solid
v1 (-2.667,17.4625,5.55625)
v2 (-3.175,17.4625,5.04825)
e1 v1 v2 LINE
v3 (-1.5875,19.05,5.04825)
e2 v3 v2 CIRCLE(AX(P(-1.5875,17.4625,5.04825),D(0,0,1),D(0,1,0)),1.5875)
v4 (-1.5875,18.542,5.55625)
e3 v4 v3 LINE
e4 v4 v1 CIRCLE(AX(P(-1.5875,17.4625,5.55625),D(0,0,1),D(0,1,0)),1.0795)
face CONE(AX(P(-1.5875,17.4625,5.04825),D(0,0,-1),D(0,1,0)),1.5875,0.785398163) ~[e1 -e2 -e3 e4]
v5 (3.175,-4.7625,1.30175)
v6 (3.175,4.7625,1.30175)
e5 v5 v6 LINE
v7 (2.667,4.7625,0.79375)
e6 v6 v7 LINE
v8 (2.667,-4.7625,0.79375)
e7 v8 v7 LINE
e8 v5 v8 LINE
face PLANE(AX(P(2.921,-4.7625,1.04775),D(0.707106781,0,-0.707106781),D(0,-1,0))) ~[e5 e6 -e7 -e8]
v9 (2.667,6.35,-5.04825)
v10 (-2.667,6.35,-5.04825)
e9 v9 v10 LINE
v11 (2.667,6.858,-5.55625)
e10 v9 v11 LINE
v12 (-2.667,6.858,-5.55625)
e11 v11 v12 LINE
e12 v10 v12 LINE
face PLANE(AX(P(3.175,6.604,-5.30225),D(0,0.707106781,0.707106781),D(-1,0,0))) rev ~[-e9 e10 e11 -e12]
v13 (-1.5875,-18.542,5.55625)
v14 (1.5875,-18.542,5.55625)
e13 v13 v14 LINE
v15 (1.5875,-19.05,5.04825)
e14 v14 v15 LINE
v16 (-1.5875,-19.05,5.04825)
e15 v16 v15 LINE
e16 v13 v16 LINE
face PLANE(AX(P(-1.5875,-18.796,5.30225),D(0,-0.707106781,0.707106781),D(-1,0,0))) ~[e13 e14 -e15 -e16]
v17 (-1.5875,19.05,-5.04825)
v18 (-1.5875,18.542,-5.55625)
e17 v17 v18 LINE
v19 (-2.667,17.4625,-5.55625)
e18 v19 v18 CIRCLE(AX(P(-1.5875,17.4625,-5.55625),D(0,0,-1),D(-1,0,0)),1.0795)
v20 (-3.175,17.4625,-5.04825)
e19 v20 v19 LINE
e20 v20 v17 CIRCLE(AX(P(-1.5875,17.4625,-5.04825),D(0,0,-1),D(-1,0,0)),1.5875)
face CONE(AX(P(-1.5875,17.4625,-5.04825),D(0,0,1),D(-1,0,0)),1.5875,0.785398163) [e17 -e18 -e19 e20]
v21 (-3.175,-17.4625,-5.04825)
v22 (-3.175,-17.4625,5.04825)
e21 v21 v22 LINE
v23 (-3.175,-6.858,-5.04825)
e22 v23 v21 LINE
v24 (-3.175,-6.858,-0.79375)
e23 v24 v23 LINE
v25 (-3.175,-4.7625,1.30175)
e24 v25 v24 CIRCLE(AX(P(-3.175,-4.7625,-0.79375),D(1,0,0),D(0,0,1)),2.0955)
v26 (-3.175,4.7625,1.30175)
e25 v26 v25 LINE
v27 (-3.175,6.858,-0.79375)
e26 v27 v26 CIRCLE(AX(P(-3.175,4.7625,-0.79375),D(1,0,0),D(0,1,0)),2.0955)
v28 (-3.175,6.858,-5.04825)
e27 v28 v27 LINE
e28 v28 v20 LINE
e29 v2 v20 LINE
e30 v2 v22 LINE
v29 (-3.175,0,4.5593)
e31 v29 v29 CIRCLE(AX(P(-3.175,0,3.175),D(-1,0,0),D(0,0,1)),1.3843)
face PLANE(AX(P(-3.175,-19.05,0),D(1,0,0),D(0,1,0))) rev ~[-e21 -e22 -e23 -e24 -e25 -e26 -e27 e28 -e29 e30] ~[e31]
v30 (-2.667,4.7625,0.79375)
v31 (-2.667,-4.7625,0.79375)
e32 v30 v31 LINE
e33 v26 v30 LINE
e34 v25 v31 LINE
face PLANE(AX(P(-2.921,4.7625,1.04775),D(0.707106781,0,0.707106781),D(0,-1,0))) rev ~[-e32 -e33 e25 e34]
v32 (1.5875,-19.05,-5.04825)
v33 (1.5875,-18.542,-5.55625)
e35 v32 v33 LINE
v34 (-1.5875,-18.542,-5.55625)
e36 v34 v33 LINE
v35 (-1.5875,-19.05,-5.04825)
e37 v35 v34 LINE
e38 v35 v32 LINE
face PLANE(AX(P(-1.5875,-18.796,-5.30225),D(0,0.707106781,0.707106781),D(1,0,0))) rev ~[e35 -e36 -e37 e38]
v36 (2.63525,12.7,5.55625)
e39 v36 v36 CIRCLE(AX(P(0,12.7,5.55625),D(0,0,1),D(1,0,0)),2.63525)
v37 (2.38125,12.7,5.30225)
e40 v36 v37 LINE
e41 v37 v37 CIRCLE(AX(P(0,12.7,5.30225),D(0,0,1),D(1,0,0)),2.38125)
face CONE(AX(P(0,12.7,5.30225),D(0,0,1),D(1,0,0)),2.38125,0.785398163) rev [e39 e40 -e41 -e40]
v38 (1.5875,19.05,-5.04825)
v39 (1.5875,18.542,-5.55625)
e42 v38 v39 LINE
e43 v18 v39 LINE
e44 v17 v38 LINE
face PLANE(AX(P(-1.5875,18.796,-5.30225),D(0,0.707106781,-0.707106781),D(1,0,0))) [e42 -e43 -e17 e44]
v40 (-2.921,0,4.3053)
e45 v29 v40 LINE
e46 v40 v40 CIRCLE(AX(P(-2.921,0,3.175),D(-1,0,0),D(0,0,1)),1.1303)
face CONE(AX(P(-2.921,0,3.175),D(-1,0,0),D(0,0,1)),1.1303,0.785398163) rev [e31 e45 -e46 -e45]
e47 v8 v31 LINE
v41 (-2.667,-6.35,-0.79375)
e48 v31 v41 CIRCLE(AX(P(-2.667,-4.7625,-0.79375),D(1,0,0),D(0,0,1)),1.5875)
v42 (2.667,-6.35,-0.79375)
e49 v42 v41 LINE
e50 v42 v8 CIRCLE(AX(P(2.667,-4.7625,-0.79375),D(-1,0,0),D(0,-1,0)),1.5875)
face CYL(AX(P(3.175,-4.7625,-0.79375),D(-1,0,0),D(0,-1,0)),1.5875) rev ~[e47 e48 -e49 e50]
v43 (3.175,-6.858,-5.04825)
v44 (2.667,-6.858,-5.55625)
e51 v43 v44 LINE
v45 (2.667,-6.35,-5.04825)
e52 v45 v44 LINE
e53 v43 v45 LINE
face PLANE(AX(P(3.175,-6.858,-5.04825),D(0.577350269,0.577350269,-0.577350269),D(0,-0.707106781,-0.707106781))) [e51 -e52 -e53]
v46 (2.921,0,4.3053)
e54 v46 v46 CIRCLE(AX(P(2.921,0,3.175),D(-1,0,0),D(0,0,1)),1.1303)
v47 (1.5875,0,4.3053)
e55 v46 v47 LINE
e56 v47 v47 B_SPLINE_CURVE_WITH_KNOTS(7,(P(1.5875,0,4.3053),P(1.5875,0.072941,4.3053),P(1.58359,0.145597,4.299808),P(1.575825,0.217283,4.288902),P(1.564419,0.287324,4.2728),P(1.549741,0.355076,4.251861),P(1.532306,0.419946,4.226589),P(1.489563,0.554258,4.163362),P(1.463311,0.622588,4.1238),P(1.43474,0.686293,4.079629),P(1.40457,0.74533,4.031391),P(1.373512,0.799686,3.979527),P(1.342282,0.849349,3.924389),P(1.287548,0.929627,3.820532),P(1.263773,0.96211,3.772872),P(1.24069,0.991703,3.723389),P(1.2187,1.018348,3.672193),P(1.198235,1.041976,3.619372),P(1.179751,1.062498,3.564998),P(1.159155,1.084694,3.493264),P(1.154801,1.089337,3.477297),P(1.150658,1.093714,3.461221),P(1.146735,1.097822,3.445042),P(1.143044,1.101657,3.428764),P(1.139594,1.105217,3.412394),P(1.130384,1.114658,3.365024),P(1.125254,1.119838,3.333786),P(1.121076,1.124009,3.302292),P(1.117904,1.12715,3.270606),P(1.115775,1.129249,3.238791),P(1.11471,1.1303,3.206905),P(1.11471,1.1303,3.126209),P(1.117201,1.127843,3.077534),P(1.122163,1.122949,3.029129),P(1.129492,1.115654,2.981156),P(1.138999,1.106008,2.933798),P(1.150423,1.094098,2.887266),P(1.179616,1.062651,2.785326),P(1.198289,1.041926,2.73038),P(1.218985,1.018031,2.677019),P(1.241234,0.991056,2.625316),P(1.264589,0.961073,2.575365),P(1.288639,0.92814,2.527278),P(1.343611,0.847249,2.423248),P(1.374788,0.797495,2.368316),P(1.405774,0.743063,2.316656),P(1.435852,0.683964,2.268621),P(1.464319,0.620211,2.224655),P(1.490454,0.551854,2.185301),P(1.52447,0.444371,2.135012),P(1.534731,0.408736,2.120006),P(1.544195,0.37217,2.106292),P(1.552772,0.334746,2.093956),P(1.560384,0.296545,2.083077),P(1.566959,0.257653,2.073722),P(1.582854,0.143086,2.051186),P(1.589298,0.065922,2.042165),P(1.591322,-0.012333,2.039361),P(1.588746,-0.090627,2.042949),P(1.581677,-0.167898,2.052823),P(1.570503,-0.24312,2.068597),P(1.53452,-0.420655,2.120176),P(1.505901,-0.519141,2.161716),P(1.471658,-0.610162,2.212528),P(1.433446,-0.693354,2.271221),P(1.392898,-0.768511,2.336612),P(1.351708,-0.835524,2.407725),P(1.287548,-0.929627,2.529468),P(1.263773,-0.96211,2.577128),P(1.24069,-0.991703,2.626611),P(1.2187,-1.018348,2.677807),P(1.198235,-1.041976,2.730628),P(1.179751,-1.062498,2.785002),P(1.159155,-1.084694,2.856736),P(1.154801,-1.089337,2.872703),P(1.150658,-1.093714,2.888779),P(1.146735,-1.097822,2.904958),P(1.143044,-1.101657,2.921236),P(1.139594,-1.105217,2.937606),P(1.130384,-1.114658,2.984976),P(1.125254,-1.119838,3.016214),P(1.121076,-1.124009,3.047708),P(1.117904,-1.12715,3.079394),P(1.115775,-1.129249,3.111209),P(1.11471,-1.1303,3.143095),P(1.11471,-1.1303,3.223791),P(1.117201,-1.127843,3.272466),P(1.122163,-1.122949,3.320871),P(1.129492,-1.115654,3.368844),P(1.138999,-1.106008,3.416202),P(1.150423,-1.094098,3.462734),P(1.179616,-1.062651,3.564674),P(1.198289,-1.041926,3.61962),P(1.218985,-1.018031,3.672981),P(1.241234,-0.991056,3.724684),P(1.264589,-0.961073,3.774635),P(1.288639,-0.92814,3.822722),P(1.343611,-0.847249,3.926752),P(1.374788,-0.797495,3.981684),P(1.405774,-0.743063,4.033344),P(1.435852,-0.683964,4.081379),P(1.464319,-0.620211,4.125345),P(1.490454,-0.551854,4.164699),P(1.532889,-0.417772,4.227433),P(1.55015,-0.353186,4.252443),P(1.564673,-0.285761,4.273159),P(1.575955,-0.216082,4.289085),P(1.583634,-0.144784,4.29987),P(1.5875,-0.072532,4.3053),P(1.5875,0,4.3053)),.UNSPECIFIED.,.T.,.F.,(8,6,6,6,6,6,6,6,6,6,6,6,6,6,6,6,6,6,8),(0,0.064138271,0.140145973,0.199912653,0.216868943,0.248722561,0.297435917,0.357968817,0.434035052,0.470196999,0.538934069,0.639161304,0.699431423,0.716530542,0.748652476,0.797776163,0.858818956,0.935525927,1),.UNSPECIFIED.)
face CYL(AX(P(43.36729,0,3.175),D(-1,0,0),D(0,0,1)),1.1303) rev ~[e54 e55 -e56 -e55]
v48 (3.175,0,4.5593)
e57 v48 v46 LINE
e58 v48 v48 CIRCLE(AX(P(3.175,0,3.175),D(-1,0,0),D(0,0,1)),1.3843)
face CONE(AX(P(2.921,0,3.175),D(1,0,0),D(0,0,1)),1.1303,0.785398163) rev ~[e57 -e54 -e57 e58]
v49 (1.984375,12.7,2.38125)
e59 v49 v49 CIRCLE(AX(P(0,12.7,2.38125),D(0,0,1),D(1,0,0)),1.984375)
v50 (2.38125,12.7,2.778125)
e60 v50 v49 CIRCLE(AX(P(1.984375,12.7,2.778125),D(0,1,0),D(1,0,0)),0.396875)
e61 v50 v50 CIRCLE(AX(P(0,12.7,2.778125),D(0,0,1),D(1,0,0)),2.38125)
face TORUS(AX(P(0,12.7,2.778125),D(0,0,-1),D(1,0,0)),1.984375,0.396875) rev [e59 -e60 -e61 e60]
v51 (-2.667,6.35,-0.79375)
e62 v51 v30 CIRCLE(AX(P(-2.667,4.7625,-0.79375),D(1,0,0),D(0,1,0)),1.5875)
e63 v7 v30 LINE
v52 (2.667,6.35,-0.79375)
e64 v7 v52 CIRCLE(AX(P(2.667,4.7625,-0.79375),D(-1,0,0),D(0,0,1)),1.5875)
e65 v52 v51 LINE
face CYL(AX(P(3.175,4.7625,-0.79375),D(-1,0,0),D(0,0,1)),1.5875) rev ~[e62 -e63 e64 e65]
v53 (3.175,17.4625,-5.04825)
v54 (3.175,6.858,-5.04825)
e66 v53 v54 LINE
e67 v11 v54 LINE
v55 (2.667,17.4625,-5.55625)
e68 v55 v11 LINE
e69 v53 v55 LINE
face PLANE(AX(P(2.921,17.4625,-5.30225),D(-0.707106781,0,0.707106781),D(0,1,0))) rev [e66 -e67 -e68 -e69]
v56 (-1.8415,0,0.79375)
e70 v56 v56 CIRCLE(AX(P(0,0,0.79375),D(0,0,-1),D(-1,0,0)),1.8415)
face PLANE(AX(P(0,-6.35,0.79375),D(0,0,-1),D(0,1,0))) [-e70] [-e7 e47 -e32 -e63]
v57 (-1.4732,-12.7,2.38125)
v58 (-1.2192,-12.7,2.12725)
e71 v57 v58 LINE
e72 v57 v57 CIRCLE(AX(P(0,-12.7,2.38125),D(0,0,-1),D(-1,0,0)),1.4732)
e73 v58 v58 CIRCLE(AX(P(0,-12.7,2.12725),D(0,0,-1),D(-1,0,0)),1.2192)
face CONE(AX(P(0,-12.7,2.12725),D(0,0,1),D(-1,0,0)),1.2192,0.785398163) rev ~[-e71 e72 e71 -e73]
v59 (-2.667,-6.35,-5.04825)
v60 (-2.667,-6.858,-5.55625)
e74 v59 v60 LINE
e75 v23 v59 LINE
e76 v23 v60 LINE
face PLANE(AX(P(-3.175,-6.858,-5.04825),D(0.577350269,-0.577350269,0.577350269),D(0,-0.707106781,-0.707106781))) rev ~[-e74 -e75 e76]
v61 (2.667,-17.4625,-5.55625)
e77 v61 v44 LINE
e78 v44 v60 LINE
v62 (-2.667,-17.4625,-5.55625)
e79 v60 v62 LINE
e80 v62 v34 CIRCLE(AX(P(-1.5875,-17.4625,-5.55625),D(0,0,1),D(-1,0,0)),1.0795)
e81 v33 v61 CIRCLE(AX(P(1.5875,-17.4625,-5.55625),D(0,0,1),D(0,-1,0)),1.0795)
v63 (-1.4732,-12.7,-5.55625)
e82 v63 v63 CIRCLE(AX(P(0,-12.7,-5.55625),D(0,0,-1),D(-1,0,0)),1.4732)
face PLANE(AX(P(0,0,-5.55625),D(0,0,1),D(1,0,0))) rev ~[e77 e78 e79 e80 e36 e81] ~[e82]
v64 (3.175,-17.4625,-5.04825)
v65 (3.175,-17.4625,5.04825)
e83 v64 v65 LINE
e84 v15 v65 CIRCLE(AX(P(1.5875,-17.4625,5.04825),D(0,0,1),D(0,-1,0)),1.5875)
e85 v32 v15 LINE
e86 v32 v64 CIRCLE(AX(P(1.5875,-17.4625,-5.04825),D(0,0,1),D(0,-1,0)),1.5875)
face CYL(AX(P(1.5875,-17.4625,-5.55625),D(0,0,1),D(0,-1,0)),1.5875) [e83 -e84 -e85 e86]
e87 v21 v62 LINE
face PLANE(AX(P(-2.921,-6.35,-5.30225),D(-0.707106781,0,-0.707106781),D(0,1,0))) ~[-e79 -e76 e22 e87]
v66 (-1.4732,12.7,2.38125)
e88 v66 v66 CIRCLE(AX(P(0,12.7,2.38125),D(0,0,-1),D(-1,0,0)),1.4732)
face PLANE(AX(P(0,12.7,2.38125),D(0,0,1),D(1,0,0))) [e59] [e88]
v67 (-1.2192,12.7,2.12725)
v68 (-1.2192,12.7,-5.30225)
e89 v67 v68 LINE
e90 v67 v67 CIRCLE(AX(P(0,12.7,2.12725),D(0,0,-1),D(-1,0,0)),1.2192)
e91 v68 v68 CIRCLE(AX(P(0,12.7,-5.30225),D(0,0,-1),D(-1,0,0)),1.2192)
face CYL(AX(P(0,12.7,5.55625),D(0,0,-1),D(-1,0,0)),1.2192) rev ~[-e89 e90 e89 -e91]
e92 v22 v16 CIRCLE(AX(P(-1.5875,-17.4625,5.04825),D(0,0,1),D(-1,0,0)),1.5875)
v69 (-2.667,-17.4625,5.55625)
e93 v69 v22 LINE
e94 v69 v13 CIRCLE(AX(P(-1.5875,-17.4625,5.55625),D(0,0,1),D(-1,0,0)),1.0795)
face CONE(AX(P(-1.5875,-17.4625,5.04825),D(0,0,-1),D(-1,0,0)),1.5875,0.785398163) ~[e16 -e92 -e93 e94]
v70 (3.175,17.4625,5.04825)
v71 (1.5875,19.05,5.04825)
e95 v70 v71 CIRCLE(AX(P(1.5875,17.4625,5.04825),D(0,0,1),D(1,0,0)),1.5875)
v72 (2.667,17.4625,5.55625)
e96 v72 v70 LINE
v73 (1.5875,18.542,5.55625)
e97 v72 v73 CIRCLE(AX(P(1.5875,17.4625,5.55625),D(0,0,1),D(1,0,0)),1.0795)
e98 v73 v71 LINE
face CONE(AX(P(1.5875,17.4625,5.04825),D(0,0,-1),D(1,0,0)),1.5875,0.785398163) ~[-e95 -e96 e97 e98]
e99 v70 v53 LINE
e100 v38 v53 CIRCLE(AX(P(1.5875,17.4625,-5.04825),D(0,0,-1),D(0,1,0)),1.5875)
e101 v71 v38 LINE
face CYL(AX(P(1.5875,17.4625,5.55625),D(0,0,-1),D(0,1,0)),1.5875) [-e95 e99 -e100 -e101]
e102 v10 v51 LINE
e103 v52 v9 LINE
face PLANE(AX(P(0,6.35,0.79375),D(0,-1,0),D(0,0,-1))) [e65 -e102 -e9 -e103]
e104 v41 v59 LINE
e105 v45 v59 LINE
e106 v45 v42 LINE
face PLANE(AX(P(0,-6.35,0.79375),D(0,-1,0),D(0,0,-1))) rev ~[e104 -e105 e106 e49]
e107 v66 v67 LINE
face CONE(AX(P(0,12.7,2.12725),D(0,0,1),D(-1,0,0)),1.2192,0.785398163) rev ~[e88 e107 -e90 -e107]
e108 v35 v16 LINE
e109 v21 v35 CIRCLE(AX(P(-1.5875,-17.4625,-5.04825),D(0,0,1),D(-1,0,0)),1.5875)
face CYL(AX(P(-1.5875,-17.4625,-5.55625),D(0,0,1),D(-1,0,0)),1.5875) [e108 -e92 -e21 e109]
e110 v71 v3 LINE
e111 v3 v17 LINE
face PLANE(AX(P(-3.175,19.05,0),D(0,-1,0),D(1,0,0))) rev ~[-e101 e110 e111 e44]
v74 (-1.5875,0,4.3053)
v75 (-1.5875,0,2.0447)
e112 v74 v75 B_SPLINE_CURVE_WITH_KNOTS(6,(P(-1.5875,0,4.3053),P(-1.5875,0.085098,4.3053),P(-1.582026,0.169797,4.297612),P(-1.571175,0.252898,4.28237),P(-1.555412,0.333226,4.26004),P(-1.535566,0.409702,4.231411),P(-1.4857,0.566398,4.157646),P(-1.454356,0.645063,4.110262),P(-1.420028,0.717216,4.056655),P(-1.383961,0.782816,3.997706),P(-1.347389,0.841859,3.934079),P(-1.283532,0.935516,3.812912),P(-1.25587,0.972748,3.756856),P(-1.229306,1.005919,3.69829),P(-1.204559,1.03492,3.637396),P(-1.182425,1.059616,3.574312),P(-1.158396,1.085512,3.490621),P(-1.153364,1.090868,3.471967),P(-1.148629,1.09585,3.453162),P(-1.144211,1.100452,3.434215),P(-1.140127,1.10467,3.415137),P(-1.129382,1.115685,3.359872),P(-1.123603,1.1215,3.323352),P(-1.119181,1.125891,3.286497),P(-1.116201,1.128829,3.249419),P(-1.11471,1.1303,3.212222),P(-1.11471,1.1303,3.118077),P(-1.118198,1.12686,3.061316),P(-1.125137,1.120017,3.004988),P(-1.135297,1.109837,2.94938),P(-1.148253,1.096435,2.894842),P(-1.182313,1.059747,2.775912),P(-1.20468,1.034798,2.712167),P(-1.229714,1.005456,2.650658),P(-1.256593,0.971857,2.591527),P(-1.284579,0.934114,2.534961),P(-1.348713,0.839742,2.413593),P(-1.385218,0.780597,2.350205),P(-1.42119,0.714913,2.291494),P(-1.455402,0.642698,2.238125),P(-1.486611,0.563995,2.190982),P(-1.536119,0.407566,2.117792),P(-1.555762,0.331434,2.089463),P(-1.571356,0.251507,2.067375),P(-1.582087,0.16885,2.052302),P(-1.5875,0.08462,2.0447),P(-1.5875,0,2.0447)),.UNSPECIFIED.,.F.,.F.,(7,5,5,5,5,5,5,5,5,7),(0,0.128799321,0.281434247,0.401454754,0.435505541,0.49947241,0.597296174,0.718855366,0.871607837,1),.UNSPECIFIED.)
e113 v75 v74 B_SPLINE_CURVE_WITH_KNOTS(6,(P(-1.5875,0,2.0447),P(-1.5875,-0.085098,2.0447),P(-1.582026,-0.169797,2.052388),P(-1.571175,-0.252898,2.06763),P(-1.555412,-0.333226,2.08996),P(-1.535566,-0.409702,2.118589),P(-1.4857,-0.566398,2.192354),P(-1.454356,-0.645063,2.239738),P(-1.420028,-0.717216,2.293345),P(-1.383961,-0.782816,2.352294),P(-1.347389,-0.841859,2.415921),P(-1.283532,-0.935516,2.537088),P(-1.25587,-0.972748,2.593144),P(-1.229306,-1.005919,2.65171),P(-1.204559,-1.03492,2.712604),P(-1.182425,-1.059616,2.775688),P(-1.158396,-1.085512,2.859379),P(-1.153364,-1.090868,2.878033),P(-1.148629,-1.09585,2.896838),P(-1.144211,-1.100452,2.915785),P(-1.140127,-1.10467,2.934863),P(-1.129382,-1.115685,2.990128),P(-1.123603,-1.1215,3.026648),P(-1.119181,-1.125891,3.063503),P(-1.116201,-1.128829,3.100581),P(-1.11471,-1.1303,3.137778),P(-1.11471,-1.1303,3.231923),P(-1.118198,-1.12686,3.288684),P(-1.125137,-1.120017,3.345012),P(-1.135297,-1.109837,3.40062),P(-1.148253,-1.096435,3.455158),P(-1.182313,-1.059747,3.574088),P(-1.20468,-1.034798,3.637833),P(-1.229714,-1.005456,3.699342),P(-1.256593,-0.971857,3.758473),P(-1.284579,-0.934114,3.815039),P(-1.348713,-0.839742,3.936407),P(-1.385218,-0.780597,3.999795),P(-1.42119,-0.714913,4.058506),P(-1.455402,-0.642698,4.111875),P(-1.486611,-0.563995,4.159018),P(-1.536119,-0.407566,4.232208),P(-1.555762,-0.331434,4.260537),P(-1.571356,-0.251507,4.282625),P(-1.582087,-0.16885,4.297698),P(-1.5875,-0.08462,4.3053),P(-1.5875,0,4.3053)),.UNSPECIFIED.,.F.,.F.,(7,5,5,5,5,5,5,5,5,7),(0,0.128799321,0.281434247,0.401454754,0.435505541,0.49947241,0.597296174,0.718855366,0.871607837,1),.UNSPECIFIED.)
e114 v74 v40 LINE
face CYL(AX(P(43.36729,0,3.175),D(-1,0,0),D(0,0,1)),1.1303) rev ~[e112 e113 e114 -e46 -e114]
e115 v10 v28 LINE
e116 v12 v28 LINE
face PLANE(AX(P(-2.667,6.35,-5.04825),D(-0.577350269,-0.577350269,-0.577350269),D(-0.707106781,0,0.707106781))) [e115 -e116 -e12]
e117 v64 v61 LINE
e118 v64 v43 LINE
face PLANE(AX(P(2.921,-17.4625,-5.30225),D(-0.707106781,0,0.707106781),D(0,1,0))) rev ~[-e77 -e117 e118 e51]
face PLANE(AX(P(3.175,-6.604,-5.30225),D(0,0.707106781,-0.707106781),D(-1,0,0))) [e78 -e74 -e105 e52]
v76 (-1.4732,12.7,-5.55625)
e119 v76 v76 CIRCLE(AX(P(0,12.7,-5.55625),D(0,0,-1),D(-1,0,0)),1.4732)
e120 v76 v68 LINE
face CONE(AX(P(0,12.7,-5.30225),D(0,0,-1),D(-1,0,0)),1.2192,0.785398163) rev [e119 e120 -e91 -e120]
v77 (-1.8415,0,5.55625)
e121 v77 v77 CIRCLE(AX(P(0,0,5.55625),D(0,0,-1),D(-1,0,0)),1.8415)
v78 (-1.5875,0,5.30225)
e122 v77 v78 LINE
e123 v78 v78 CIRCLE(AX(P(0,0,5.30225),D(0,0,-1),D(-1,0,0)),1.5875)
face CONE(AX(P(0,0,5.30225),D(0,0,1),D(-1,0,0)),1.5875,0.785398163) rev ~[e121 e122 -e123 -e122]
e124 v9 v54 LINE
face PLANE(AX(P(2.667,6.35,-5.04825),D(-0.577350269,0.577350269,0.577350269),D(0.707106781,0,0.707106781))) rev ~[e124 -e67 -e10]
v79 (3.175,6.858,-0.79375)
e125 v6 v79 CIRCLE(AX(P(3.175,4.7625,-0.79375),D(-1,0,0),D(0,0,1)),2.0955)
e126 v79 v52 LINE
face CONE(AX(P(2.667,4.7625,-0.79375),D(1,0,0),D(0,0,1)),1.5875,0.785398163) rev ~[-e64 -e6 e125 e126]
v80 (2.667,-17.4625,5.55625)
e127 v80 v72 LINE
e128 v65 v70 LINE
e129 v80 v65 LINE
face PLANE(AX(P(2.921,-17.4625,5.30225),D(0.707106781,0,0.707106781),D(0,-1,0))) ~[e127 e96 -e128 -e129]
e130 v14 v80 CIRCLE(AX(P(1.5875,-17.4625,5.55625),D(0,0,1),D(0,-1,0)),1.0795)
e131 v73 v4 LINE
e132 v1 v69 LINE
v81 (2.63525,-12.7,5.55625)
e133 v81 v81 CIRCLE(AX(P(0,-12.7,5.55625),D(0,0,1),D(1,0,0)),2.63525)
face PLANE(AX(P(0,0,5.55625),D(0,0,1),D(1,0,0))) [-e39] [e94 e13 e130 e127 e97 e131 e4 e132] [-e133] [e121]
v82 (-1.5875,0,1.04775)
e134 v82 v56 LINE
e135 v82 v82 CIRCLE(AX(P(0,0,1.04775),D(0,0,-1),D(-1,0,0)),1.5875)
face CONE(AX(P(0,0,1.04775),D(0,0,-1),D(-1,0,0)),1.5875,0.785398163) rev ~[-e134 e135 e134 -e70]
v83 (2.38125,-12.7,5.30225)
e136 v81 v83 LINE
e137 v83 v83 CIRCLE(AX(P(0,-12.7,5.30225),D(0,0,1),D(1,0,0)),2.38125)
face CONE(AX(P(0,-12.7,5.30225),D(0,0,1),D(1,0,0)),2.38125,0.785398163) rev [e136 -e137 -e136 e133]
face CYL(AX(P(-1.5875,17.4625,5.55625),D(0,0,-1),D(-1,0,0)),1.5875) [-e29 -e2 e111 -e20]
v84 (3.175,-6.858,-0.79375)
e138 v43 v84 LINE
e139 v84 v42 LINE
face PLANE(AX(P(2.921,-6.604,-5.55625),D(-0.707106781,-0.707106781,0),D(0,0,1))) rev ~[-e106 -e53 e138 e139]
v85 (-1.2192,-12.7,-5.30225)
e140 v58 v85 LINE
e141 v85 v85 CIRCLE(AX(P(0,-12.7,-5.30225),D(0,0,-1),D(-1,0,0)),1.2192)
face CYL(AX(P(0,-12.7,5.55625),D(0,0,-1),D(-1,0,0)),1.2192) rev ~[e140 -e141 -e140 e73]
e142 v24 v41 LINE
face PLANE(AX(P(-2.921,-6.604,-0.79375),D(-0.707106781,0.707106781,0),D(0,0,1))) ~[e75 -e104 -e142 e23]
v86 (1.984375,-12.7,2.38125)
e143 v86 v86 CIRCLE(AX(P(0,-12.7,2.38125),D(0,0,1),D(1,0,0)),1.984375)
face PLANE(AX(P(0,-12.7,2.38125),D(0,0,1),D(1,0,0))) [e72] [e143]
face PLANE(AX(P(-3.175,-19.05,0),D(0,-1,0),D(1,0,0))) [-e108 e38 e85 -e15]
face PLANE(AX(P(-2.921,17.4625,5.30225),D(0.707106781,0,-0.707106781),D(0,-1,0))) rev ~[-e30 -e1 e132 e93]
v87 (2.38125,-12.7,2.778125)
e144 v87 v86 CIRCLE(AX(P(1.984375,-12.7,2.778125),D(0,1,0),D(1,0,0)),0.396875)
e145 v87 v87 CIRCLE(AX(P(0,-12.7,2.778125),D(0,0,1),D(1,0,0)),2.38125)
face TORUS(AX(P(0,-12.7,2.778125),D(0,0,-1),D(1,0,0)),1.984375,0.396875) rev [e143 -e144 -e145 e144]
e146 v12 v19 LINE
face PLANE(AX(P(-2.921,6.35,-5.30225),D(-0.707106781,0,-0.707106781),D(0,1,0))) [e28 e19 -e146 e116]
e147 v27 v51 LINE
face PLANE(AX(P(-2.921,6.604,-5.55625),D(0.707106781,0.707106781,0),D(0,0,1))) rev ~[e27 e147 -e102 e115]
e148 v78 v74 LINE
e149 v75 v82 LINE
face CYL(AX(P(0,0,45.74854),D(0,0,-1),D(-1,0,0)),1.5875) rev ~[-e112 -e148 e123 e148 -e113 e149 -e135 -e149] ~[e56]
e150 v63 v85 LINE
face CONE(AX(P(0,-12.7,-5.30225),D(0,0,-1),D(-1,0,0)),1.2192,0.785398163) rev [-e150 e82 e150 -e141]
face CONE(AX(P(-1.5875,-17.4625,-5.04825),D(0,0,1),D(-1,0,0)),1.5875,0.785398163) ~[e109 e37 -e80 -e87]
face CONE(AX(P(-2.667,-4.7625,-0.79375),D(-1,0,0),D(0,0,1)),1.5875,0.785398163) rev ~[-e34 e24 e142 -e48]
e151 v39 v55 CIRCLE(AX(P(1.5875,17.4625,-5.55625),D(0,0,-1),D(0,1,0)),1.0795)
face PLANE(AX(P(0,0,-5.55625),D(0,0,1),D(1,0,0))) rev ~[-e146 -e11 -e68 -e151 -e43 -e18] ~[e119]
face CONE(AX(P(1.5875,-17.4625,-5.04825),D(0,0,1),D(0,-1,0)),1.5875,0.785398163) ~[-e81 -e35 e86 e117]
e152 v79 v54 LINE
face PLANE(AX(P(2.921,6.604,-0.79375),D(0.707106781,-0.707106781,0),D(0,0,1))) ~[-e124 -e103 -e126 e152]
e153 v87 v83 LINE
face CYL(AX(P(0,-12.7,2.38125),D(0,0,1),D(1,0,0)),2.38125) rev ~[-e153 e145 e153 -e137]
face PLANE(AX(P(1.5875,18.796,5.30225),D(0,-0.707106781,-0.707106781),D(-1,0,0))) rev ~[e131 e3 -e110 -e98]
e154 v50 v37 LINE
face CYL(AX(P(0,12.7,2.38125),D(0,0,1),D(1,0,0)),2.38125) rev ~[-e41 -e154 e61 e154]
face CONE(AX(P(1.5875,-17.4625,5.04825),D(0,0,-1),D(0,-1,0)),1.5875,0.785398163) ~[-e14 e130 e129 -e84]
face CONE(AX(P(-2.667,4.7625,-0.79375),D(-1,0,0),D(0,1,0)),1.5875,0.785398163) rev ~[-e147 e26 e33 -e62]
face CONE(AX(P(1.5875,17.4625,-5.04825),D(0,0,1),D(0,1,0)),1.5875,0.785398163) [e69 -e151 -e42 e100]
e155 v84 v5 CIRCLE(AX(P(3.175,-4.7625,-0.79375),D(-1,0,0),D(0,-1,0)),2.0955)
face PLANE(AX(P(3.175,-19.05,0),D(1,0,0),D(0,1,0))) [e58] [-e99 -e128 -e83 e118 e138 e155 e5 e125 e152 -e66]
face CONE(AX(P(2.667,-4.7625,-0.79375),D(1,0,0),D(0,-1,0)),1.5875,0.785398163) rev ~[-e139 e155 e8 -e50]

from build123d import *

# Parameters (mm, degrees)
SKETCH1_W                                           = 6.35
SKETCH1_H                                           = 38.1
BOSS_EXTRUDE1_DEPTH                                 = 5.55625
SKETCH8_W                                           = 6.35
SKETCH8_H                                           = 12.7
CUT_EXTRUDE1_DEPTH                                  = 4.175
CUT_EXTRUDE1_DEPTH_BACK                             = 4.175
F_1_8_0_125_DIAMETER_HOLE1_D                        = 3.175
CBORE_FOR_2_BINDING_HEAD_MACHINE_SCREW2_D           = 2.4384
CBORE_FOR_2_BINDING_HEAD_MACHINE_SCREW2_CBORE_D     = 4.7625
CBORE_FOR_2_BINDING_HEAD_MACHINE_SCREW2_CBORE_DEPTH = 3.175
F_4_40_TAPPED_HOLE1_D                               = 2.2606
FILLET1_R                                           = 1.5875
FILLET2_R                                           = 0.396875
CHAMFER1_SIZE                                       = 0.508
CHAMFER2_SIZE                                       = 0.254


with BuildPart() as part:
    # Sketch1 → Boss-Extrude1 (new body, symmetric)
    with BuildSketch(Plane.XY):
        Rectangle(SKETCH1_W, SKETCH1_H)
    extrude(amount=BOSS_EXTRUDE1_DEPTH, both=True)

    # Sketch8 → Cut-Extrude1 (cut, two sides)
    with BuildSketch(Plane(origin=(0, 0, 0), x_dir=(0, 0, -1), z_dir=(1, 0, 0))) as cut_extrude1_sk:
        with Locations((2.38125, 0)):
            Rectangle(SKETCH8_W, SKETCH8_H)
    extrude(amount=CUT_EXTRUDE1_DEPTH, mode=Mode.SUBTRACT)
    extrude(cut_extrude1_sk.sketch, amount=-CUT_EXTRUDE1_DEPTH_BACK, mode=Mode.SUBTRACT)

    # 1/8 (0.125) Diameter Hole1 (through all)
    with Locations(Plane.XY.offset(5.55625)):
        with Locations((0, 0)):
            Hole(F_1_8_0_125_DIAMETER_HOLE1_D / 2)

    # CBORE for #2 Binding Head Machine Screw2 (through all)
    with Locations(Plane.XY.offset(5.55625)):
        with Locations((0, 12.7), (0, -12.7)):
            CounterBoreHole(CBORE_FOR_2_BINDING_HEAD_MACHINE_SCREW2_D / 2, CBORE_FOR_2_BINDING_HEAD_MACHINE_SCREW2_CBORE_D / 2, CBORE_FOR_2_BINDING_HEAD_MACHINE_SCREW2_CBORE_DEPTH)

    # #4-40 Tapped Hole1 (through all)
    with Locations(Plane(origin=(3.175, 0, 0), x_dir=(0, 0, -1), z_dir=(1, 0, 0))):
        with Locations((-3.175, 0)):
            Hole(F_4_40_TAPPED_HOLE1_D / 2)

    # Fillet1
    fillet1_edges = [part.edges().sort_by_distance(p)[0] for p in [
        (0, -6.35, 0.79375),
        (0, 6.35, 0.79375),
        (-3.175, -19.05, 0),
        (3.175, -19.05, 0),
        (3.175, 19.05, 0),
        (-3.175, 19.05, 0),
    ]]
    fillet(fillet1_edges, radius=FILLET1_R)

    # Fillet2
    fillet2_edges = [part.edges().sort_by_distance(p)[0] for p in [
        (-2.38125, -12.7, 2.38125),
        (-2.38125, 12.7, 2.38125),
    ]]
    fillet(fillet2_edges, radius=FILLET2_R)

    # Chamfer1
    chamfer1_edges = [part.edges().sort_by_distance(p)[0] for p in [
        (-3.175, 11.90625, -5.55625),
        (3.175, 11.90625, -5.55625),
        (0, 6.35, -5.55625),
        (0, -6.35, -5.55625),
        (-3.175, -6.35, -3.175),
        (3.175, -6.35, -3.175),
        (-3.175, 0, 0.79375),
        (3.175, 0, 0.79375),
        (-3.175, 6.35, -3.175),
        (3.175, 6.35, -3.175),
        (0, -19.05, -5.55625),
        (0, -19.05, 5.55625),
        (3.175, -11.90625, -5.55625),
        (-3.175, -11.90625, -5.55625),
        (2.710032015, -18.585032015, -5.55625),
        (-2.710032015, -18.585032015, -5.55625),
        (-3.175, 0, 5.55625),
        (3.175, 0, 5.55625),
        (0, 19.05, 5.55625),
        (2.710032015, 18.585032015, 5.55625),
        (-2.710032015, 18.585032015, 5.55625),
        (2.710032015, -18.585032015, 5.55625),
        (-2.710032015, -18.585032015, 5.55625),
        (0, 19.05, -5.55625),
        (2.710032015, 18.585032015, -5.55625),
        (-2.710032015, 18.585032015, -5.55625),
        (3.175, -5.885032015, 0.328782015),
        (-3.175, -5.885032015, 0.328782015),
        (3.175, 5.885032015, 0.328782015),
        (-3.175, 5.885032015, 0.328782015),
    ]]
    chamfer(chamfer1_edges, length=CHAMFER1_SIZE)

    # Chamfer2
    chamfer2_edges = [part.edges().sort_by_distance(p)[0] for p in [
        (1.5875, 0, 0.79375),
        (1.5875, 0, 5.55625),
        (-2.38125, -12.7, 5.55625),
        (1.2192, -12.7, -5.55625),
        (1.2192, -12.7, 2.38125),
        (-2.38125, 12.7, 5.55625),
        (1.2192, 12.7, -5.55625),
        (1.2192, 12.7, 2.38125),
        (-3.175, 0, 2.0447),
        (3.175, 0, 2.0447),
    ]]
    chamfer(chamfer2_edges, length=CHAMFER2_SIZE)


solid = part.part
